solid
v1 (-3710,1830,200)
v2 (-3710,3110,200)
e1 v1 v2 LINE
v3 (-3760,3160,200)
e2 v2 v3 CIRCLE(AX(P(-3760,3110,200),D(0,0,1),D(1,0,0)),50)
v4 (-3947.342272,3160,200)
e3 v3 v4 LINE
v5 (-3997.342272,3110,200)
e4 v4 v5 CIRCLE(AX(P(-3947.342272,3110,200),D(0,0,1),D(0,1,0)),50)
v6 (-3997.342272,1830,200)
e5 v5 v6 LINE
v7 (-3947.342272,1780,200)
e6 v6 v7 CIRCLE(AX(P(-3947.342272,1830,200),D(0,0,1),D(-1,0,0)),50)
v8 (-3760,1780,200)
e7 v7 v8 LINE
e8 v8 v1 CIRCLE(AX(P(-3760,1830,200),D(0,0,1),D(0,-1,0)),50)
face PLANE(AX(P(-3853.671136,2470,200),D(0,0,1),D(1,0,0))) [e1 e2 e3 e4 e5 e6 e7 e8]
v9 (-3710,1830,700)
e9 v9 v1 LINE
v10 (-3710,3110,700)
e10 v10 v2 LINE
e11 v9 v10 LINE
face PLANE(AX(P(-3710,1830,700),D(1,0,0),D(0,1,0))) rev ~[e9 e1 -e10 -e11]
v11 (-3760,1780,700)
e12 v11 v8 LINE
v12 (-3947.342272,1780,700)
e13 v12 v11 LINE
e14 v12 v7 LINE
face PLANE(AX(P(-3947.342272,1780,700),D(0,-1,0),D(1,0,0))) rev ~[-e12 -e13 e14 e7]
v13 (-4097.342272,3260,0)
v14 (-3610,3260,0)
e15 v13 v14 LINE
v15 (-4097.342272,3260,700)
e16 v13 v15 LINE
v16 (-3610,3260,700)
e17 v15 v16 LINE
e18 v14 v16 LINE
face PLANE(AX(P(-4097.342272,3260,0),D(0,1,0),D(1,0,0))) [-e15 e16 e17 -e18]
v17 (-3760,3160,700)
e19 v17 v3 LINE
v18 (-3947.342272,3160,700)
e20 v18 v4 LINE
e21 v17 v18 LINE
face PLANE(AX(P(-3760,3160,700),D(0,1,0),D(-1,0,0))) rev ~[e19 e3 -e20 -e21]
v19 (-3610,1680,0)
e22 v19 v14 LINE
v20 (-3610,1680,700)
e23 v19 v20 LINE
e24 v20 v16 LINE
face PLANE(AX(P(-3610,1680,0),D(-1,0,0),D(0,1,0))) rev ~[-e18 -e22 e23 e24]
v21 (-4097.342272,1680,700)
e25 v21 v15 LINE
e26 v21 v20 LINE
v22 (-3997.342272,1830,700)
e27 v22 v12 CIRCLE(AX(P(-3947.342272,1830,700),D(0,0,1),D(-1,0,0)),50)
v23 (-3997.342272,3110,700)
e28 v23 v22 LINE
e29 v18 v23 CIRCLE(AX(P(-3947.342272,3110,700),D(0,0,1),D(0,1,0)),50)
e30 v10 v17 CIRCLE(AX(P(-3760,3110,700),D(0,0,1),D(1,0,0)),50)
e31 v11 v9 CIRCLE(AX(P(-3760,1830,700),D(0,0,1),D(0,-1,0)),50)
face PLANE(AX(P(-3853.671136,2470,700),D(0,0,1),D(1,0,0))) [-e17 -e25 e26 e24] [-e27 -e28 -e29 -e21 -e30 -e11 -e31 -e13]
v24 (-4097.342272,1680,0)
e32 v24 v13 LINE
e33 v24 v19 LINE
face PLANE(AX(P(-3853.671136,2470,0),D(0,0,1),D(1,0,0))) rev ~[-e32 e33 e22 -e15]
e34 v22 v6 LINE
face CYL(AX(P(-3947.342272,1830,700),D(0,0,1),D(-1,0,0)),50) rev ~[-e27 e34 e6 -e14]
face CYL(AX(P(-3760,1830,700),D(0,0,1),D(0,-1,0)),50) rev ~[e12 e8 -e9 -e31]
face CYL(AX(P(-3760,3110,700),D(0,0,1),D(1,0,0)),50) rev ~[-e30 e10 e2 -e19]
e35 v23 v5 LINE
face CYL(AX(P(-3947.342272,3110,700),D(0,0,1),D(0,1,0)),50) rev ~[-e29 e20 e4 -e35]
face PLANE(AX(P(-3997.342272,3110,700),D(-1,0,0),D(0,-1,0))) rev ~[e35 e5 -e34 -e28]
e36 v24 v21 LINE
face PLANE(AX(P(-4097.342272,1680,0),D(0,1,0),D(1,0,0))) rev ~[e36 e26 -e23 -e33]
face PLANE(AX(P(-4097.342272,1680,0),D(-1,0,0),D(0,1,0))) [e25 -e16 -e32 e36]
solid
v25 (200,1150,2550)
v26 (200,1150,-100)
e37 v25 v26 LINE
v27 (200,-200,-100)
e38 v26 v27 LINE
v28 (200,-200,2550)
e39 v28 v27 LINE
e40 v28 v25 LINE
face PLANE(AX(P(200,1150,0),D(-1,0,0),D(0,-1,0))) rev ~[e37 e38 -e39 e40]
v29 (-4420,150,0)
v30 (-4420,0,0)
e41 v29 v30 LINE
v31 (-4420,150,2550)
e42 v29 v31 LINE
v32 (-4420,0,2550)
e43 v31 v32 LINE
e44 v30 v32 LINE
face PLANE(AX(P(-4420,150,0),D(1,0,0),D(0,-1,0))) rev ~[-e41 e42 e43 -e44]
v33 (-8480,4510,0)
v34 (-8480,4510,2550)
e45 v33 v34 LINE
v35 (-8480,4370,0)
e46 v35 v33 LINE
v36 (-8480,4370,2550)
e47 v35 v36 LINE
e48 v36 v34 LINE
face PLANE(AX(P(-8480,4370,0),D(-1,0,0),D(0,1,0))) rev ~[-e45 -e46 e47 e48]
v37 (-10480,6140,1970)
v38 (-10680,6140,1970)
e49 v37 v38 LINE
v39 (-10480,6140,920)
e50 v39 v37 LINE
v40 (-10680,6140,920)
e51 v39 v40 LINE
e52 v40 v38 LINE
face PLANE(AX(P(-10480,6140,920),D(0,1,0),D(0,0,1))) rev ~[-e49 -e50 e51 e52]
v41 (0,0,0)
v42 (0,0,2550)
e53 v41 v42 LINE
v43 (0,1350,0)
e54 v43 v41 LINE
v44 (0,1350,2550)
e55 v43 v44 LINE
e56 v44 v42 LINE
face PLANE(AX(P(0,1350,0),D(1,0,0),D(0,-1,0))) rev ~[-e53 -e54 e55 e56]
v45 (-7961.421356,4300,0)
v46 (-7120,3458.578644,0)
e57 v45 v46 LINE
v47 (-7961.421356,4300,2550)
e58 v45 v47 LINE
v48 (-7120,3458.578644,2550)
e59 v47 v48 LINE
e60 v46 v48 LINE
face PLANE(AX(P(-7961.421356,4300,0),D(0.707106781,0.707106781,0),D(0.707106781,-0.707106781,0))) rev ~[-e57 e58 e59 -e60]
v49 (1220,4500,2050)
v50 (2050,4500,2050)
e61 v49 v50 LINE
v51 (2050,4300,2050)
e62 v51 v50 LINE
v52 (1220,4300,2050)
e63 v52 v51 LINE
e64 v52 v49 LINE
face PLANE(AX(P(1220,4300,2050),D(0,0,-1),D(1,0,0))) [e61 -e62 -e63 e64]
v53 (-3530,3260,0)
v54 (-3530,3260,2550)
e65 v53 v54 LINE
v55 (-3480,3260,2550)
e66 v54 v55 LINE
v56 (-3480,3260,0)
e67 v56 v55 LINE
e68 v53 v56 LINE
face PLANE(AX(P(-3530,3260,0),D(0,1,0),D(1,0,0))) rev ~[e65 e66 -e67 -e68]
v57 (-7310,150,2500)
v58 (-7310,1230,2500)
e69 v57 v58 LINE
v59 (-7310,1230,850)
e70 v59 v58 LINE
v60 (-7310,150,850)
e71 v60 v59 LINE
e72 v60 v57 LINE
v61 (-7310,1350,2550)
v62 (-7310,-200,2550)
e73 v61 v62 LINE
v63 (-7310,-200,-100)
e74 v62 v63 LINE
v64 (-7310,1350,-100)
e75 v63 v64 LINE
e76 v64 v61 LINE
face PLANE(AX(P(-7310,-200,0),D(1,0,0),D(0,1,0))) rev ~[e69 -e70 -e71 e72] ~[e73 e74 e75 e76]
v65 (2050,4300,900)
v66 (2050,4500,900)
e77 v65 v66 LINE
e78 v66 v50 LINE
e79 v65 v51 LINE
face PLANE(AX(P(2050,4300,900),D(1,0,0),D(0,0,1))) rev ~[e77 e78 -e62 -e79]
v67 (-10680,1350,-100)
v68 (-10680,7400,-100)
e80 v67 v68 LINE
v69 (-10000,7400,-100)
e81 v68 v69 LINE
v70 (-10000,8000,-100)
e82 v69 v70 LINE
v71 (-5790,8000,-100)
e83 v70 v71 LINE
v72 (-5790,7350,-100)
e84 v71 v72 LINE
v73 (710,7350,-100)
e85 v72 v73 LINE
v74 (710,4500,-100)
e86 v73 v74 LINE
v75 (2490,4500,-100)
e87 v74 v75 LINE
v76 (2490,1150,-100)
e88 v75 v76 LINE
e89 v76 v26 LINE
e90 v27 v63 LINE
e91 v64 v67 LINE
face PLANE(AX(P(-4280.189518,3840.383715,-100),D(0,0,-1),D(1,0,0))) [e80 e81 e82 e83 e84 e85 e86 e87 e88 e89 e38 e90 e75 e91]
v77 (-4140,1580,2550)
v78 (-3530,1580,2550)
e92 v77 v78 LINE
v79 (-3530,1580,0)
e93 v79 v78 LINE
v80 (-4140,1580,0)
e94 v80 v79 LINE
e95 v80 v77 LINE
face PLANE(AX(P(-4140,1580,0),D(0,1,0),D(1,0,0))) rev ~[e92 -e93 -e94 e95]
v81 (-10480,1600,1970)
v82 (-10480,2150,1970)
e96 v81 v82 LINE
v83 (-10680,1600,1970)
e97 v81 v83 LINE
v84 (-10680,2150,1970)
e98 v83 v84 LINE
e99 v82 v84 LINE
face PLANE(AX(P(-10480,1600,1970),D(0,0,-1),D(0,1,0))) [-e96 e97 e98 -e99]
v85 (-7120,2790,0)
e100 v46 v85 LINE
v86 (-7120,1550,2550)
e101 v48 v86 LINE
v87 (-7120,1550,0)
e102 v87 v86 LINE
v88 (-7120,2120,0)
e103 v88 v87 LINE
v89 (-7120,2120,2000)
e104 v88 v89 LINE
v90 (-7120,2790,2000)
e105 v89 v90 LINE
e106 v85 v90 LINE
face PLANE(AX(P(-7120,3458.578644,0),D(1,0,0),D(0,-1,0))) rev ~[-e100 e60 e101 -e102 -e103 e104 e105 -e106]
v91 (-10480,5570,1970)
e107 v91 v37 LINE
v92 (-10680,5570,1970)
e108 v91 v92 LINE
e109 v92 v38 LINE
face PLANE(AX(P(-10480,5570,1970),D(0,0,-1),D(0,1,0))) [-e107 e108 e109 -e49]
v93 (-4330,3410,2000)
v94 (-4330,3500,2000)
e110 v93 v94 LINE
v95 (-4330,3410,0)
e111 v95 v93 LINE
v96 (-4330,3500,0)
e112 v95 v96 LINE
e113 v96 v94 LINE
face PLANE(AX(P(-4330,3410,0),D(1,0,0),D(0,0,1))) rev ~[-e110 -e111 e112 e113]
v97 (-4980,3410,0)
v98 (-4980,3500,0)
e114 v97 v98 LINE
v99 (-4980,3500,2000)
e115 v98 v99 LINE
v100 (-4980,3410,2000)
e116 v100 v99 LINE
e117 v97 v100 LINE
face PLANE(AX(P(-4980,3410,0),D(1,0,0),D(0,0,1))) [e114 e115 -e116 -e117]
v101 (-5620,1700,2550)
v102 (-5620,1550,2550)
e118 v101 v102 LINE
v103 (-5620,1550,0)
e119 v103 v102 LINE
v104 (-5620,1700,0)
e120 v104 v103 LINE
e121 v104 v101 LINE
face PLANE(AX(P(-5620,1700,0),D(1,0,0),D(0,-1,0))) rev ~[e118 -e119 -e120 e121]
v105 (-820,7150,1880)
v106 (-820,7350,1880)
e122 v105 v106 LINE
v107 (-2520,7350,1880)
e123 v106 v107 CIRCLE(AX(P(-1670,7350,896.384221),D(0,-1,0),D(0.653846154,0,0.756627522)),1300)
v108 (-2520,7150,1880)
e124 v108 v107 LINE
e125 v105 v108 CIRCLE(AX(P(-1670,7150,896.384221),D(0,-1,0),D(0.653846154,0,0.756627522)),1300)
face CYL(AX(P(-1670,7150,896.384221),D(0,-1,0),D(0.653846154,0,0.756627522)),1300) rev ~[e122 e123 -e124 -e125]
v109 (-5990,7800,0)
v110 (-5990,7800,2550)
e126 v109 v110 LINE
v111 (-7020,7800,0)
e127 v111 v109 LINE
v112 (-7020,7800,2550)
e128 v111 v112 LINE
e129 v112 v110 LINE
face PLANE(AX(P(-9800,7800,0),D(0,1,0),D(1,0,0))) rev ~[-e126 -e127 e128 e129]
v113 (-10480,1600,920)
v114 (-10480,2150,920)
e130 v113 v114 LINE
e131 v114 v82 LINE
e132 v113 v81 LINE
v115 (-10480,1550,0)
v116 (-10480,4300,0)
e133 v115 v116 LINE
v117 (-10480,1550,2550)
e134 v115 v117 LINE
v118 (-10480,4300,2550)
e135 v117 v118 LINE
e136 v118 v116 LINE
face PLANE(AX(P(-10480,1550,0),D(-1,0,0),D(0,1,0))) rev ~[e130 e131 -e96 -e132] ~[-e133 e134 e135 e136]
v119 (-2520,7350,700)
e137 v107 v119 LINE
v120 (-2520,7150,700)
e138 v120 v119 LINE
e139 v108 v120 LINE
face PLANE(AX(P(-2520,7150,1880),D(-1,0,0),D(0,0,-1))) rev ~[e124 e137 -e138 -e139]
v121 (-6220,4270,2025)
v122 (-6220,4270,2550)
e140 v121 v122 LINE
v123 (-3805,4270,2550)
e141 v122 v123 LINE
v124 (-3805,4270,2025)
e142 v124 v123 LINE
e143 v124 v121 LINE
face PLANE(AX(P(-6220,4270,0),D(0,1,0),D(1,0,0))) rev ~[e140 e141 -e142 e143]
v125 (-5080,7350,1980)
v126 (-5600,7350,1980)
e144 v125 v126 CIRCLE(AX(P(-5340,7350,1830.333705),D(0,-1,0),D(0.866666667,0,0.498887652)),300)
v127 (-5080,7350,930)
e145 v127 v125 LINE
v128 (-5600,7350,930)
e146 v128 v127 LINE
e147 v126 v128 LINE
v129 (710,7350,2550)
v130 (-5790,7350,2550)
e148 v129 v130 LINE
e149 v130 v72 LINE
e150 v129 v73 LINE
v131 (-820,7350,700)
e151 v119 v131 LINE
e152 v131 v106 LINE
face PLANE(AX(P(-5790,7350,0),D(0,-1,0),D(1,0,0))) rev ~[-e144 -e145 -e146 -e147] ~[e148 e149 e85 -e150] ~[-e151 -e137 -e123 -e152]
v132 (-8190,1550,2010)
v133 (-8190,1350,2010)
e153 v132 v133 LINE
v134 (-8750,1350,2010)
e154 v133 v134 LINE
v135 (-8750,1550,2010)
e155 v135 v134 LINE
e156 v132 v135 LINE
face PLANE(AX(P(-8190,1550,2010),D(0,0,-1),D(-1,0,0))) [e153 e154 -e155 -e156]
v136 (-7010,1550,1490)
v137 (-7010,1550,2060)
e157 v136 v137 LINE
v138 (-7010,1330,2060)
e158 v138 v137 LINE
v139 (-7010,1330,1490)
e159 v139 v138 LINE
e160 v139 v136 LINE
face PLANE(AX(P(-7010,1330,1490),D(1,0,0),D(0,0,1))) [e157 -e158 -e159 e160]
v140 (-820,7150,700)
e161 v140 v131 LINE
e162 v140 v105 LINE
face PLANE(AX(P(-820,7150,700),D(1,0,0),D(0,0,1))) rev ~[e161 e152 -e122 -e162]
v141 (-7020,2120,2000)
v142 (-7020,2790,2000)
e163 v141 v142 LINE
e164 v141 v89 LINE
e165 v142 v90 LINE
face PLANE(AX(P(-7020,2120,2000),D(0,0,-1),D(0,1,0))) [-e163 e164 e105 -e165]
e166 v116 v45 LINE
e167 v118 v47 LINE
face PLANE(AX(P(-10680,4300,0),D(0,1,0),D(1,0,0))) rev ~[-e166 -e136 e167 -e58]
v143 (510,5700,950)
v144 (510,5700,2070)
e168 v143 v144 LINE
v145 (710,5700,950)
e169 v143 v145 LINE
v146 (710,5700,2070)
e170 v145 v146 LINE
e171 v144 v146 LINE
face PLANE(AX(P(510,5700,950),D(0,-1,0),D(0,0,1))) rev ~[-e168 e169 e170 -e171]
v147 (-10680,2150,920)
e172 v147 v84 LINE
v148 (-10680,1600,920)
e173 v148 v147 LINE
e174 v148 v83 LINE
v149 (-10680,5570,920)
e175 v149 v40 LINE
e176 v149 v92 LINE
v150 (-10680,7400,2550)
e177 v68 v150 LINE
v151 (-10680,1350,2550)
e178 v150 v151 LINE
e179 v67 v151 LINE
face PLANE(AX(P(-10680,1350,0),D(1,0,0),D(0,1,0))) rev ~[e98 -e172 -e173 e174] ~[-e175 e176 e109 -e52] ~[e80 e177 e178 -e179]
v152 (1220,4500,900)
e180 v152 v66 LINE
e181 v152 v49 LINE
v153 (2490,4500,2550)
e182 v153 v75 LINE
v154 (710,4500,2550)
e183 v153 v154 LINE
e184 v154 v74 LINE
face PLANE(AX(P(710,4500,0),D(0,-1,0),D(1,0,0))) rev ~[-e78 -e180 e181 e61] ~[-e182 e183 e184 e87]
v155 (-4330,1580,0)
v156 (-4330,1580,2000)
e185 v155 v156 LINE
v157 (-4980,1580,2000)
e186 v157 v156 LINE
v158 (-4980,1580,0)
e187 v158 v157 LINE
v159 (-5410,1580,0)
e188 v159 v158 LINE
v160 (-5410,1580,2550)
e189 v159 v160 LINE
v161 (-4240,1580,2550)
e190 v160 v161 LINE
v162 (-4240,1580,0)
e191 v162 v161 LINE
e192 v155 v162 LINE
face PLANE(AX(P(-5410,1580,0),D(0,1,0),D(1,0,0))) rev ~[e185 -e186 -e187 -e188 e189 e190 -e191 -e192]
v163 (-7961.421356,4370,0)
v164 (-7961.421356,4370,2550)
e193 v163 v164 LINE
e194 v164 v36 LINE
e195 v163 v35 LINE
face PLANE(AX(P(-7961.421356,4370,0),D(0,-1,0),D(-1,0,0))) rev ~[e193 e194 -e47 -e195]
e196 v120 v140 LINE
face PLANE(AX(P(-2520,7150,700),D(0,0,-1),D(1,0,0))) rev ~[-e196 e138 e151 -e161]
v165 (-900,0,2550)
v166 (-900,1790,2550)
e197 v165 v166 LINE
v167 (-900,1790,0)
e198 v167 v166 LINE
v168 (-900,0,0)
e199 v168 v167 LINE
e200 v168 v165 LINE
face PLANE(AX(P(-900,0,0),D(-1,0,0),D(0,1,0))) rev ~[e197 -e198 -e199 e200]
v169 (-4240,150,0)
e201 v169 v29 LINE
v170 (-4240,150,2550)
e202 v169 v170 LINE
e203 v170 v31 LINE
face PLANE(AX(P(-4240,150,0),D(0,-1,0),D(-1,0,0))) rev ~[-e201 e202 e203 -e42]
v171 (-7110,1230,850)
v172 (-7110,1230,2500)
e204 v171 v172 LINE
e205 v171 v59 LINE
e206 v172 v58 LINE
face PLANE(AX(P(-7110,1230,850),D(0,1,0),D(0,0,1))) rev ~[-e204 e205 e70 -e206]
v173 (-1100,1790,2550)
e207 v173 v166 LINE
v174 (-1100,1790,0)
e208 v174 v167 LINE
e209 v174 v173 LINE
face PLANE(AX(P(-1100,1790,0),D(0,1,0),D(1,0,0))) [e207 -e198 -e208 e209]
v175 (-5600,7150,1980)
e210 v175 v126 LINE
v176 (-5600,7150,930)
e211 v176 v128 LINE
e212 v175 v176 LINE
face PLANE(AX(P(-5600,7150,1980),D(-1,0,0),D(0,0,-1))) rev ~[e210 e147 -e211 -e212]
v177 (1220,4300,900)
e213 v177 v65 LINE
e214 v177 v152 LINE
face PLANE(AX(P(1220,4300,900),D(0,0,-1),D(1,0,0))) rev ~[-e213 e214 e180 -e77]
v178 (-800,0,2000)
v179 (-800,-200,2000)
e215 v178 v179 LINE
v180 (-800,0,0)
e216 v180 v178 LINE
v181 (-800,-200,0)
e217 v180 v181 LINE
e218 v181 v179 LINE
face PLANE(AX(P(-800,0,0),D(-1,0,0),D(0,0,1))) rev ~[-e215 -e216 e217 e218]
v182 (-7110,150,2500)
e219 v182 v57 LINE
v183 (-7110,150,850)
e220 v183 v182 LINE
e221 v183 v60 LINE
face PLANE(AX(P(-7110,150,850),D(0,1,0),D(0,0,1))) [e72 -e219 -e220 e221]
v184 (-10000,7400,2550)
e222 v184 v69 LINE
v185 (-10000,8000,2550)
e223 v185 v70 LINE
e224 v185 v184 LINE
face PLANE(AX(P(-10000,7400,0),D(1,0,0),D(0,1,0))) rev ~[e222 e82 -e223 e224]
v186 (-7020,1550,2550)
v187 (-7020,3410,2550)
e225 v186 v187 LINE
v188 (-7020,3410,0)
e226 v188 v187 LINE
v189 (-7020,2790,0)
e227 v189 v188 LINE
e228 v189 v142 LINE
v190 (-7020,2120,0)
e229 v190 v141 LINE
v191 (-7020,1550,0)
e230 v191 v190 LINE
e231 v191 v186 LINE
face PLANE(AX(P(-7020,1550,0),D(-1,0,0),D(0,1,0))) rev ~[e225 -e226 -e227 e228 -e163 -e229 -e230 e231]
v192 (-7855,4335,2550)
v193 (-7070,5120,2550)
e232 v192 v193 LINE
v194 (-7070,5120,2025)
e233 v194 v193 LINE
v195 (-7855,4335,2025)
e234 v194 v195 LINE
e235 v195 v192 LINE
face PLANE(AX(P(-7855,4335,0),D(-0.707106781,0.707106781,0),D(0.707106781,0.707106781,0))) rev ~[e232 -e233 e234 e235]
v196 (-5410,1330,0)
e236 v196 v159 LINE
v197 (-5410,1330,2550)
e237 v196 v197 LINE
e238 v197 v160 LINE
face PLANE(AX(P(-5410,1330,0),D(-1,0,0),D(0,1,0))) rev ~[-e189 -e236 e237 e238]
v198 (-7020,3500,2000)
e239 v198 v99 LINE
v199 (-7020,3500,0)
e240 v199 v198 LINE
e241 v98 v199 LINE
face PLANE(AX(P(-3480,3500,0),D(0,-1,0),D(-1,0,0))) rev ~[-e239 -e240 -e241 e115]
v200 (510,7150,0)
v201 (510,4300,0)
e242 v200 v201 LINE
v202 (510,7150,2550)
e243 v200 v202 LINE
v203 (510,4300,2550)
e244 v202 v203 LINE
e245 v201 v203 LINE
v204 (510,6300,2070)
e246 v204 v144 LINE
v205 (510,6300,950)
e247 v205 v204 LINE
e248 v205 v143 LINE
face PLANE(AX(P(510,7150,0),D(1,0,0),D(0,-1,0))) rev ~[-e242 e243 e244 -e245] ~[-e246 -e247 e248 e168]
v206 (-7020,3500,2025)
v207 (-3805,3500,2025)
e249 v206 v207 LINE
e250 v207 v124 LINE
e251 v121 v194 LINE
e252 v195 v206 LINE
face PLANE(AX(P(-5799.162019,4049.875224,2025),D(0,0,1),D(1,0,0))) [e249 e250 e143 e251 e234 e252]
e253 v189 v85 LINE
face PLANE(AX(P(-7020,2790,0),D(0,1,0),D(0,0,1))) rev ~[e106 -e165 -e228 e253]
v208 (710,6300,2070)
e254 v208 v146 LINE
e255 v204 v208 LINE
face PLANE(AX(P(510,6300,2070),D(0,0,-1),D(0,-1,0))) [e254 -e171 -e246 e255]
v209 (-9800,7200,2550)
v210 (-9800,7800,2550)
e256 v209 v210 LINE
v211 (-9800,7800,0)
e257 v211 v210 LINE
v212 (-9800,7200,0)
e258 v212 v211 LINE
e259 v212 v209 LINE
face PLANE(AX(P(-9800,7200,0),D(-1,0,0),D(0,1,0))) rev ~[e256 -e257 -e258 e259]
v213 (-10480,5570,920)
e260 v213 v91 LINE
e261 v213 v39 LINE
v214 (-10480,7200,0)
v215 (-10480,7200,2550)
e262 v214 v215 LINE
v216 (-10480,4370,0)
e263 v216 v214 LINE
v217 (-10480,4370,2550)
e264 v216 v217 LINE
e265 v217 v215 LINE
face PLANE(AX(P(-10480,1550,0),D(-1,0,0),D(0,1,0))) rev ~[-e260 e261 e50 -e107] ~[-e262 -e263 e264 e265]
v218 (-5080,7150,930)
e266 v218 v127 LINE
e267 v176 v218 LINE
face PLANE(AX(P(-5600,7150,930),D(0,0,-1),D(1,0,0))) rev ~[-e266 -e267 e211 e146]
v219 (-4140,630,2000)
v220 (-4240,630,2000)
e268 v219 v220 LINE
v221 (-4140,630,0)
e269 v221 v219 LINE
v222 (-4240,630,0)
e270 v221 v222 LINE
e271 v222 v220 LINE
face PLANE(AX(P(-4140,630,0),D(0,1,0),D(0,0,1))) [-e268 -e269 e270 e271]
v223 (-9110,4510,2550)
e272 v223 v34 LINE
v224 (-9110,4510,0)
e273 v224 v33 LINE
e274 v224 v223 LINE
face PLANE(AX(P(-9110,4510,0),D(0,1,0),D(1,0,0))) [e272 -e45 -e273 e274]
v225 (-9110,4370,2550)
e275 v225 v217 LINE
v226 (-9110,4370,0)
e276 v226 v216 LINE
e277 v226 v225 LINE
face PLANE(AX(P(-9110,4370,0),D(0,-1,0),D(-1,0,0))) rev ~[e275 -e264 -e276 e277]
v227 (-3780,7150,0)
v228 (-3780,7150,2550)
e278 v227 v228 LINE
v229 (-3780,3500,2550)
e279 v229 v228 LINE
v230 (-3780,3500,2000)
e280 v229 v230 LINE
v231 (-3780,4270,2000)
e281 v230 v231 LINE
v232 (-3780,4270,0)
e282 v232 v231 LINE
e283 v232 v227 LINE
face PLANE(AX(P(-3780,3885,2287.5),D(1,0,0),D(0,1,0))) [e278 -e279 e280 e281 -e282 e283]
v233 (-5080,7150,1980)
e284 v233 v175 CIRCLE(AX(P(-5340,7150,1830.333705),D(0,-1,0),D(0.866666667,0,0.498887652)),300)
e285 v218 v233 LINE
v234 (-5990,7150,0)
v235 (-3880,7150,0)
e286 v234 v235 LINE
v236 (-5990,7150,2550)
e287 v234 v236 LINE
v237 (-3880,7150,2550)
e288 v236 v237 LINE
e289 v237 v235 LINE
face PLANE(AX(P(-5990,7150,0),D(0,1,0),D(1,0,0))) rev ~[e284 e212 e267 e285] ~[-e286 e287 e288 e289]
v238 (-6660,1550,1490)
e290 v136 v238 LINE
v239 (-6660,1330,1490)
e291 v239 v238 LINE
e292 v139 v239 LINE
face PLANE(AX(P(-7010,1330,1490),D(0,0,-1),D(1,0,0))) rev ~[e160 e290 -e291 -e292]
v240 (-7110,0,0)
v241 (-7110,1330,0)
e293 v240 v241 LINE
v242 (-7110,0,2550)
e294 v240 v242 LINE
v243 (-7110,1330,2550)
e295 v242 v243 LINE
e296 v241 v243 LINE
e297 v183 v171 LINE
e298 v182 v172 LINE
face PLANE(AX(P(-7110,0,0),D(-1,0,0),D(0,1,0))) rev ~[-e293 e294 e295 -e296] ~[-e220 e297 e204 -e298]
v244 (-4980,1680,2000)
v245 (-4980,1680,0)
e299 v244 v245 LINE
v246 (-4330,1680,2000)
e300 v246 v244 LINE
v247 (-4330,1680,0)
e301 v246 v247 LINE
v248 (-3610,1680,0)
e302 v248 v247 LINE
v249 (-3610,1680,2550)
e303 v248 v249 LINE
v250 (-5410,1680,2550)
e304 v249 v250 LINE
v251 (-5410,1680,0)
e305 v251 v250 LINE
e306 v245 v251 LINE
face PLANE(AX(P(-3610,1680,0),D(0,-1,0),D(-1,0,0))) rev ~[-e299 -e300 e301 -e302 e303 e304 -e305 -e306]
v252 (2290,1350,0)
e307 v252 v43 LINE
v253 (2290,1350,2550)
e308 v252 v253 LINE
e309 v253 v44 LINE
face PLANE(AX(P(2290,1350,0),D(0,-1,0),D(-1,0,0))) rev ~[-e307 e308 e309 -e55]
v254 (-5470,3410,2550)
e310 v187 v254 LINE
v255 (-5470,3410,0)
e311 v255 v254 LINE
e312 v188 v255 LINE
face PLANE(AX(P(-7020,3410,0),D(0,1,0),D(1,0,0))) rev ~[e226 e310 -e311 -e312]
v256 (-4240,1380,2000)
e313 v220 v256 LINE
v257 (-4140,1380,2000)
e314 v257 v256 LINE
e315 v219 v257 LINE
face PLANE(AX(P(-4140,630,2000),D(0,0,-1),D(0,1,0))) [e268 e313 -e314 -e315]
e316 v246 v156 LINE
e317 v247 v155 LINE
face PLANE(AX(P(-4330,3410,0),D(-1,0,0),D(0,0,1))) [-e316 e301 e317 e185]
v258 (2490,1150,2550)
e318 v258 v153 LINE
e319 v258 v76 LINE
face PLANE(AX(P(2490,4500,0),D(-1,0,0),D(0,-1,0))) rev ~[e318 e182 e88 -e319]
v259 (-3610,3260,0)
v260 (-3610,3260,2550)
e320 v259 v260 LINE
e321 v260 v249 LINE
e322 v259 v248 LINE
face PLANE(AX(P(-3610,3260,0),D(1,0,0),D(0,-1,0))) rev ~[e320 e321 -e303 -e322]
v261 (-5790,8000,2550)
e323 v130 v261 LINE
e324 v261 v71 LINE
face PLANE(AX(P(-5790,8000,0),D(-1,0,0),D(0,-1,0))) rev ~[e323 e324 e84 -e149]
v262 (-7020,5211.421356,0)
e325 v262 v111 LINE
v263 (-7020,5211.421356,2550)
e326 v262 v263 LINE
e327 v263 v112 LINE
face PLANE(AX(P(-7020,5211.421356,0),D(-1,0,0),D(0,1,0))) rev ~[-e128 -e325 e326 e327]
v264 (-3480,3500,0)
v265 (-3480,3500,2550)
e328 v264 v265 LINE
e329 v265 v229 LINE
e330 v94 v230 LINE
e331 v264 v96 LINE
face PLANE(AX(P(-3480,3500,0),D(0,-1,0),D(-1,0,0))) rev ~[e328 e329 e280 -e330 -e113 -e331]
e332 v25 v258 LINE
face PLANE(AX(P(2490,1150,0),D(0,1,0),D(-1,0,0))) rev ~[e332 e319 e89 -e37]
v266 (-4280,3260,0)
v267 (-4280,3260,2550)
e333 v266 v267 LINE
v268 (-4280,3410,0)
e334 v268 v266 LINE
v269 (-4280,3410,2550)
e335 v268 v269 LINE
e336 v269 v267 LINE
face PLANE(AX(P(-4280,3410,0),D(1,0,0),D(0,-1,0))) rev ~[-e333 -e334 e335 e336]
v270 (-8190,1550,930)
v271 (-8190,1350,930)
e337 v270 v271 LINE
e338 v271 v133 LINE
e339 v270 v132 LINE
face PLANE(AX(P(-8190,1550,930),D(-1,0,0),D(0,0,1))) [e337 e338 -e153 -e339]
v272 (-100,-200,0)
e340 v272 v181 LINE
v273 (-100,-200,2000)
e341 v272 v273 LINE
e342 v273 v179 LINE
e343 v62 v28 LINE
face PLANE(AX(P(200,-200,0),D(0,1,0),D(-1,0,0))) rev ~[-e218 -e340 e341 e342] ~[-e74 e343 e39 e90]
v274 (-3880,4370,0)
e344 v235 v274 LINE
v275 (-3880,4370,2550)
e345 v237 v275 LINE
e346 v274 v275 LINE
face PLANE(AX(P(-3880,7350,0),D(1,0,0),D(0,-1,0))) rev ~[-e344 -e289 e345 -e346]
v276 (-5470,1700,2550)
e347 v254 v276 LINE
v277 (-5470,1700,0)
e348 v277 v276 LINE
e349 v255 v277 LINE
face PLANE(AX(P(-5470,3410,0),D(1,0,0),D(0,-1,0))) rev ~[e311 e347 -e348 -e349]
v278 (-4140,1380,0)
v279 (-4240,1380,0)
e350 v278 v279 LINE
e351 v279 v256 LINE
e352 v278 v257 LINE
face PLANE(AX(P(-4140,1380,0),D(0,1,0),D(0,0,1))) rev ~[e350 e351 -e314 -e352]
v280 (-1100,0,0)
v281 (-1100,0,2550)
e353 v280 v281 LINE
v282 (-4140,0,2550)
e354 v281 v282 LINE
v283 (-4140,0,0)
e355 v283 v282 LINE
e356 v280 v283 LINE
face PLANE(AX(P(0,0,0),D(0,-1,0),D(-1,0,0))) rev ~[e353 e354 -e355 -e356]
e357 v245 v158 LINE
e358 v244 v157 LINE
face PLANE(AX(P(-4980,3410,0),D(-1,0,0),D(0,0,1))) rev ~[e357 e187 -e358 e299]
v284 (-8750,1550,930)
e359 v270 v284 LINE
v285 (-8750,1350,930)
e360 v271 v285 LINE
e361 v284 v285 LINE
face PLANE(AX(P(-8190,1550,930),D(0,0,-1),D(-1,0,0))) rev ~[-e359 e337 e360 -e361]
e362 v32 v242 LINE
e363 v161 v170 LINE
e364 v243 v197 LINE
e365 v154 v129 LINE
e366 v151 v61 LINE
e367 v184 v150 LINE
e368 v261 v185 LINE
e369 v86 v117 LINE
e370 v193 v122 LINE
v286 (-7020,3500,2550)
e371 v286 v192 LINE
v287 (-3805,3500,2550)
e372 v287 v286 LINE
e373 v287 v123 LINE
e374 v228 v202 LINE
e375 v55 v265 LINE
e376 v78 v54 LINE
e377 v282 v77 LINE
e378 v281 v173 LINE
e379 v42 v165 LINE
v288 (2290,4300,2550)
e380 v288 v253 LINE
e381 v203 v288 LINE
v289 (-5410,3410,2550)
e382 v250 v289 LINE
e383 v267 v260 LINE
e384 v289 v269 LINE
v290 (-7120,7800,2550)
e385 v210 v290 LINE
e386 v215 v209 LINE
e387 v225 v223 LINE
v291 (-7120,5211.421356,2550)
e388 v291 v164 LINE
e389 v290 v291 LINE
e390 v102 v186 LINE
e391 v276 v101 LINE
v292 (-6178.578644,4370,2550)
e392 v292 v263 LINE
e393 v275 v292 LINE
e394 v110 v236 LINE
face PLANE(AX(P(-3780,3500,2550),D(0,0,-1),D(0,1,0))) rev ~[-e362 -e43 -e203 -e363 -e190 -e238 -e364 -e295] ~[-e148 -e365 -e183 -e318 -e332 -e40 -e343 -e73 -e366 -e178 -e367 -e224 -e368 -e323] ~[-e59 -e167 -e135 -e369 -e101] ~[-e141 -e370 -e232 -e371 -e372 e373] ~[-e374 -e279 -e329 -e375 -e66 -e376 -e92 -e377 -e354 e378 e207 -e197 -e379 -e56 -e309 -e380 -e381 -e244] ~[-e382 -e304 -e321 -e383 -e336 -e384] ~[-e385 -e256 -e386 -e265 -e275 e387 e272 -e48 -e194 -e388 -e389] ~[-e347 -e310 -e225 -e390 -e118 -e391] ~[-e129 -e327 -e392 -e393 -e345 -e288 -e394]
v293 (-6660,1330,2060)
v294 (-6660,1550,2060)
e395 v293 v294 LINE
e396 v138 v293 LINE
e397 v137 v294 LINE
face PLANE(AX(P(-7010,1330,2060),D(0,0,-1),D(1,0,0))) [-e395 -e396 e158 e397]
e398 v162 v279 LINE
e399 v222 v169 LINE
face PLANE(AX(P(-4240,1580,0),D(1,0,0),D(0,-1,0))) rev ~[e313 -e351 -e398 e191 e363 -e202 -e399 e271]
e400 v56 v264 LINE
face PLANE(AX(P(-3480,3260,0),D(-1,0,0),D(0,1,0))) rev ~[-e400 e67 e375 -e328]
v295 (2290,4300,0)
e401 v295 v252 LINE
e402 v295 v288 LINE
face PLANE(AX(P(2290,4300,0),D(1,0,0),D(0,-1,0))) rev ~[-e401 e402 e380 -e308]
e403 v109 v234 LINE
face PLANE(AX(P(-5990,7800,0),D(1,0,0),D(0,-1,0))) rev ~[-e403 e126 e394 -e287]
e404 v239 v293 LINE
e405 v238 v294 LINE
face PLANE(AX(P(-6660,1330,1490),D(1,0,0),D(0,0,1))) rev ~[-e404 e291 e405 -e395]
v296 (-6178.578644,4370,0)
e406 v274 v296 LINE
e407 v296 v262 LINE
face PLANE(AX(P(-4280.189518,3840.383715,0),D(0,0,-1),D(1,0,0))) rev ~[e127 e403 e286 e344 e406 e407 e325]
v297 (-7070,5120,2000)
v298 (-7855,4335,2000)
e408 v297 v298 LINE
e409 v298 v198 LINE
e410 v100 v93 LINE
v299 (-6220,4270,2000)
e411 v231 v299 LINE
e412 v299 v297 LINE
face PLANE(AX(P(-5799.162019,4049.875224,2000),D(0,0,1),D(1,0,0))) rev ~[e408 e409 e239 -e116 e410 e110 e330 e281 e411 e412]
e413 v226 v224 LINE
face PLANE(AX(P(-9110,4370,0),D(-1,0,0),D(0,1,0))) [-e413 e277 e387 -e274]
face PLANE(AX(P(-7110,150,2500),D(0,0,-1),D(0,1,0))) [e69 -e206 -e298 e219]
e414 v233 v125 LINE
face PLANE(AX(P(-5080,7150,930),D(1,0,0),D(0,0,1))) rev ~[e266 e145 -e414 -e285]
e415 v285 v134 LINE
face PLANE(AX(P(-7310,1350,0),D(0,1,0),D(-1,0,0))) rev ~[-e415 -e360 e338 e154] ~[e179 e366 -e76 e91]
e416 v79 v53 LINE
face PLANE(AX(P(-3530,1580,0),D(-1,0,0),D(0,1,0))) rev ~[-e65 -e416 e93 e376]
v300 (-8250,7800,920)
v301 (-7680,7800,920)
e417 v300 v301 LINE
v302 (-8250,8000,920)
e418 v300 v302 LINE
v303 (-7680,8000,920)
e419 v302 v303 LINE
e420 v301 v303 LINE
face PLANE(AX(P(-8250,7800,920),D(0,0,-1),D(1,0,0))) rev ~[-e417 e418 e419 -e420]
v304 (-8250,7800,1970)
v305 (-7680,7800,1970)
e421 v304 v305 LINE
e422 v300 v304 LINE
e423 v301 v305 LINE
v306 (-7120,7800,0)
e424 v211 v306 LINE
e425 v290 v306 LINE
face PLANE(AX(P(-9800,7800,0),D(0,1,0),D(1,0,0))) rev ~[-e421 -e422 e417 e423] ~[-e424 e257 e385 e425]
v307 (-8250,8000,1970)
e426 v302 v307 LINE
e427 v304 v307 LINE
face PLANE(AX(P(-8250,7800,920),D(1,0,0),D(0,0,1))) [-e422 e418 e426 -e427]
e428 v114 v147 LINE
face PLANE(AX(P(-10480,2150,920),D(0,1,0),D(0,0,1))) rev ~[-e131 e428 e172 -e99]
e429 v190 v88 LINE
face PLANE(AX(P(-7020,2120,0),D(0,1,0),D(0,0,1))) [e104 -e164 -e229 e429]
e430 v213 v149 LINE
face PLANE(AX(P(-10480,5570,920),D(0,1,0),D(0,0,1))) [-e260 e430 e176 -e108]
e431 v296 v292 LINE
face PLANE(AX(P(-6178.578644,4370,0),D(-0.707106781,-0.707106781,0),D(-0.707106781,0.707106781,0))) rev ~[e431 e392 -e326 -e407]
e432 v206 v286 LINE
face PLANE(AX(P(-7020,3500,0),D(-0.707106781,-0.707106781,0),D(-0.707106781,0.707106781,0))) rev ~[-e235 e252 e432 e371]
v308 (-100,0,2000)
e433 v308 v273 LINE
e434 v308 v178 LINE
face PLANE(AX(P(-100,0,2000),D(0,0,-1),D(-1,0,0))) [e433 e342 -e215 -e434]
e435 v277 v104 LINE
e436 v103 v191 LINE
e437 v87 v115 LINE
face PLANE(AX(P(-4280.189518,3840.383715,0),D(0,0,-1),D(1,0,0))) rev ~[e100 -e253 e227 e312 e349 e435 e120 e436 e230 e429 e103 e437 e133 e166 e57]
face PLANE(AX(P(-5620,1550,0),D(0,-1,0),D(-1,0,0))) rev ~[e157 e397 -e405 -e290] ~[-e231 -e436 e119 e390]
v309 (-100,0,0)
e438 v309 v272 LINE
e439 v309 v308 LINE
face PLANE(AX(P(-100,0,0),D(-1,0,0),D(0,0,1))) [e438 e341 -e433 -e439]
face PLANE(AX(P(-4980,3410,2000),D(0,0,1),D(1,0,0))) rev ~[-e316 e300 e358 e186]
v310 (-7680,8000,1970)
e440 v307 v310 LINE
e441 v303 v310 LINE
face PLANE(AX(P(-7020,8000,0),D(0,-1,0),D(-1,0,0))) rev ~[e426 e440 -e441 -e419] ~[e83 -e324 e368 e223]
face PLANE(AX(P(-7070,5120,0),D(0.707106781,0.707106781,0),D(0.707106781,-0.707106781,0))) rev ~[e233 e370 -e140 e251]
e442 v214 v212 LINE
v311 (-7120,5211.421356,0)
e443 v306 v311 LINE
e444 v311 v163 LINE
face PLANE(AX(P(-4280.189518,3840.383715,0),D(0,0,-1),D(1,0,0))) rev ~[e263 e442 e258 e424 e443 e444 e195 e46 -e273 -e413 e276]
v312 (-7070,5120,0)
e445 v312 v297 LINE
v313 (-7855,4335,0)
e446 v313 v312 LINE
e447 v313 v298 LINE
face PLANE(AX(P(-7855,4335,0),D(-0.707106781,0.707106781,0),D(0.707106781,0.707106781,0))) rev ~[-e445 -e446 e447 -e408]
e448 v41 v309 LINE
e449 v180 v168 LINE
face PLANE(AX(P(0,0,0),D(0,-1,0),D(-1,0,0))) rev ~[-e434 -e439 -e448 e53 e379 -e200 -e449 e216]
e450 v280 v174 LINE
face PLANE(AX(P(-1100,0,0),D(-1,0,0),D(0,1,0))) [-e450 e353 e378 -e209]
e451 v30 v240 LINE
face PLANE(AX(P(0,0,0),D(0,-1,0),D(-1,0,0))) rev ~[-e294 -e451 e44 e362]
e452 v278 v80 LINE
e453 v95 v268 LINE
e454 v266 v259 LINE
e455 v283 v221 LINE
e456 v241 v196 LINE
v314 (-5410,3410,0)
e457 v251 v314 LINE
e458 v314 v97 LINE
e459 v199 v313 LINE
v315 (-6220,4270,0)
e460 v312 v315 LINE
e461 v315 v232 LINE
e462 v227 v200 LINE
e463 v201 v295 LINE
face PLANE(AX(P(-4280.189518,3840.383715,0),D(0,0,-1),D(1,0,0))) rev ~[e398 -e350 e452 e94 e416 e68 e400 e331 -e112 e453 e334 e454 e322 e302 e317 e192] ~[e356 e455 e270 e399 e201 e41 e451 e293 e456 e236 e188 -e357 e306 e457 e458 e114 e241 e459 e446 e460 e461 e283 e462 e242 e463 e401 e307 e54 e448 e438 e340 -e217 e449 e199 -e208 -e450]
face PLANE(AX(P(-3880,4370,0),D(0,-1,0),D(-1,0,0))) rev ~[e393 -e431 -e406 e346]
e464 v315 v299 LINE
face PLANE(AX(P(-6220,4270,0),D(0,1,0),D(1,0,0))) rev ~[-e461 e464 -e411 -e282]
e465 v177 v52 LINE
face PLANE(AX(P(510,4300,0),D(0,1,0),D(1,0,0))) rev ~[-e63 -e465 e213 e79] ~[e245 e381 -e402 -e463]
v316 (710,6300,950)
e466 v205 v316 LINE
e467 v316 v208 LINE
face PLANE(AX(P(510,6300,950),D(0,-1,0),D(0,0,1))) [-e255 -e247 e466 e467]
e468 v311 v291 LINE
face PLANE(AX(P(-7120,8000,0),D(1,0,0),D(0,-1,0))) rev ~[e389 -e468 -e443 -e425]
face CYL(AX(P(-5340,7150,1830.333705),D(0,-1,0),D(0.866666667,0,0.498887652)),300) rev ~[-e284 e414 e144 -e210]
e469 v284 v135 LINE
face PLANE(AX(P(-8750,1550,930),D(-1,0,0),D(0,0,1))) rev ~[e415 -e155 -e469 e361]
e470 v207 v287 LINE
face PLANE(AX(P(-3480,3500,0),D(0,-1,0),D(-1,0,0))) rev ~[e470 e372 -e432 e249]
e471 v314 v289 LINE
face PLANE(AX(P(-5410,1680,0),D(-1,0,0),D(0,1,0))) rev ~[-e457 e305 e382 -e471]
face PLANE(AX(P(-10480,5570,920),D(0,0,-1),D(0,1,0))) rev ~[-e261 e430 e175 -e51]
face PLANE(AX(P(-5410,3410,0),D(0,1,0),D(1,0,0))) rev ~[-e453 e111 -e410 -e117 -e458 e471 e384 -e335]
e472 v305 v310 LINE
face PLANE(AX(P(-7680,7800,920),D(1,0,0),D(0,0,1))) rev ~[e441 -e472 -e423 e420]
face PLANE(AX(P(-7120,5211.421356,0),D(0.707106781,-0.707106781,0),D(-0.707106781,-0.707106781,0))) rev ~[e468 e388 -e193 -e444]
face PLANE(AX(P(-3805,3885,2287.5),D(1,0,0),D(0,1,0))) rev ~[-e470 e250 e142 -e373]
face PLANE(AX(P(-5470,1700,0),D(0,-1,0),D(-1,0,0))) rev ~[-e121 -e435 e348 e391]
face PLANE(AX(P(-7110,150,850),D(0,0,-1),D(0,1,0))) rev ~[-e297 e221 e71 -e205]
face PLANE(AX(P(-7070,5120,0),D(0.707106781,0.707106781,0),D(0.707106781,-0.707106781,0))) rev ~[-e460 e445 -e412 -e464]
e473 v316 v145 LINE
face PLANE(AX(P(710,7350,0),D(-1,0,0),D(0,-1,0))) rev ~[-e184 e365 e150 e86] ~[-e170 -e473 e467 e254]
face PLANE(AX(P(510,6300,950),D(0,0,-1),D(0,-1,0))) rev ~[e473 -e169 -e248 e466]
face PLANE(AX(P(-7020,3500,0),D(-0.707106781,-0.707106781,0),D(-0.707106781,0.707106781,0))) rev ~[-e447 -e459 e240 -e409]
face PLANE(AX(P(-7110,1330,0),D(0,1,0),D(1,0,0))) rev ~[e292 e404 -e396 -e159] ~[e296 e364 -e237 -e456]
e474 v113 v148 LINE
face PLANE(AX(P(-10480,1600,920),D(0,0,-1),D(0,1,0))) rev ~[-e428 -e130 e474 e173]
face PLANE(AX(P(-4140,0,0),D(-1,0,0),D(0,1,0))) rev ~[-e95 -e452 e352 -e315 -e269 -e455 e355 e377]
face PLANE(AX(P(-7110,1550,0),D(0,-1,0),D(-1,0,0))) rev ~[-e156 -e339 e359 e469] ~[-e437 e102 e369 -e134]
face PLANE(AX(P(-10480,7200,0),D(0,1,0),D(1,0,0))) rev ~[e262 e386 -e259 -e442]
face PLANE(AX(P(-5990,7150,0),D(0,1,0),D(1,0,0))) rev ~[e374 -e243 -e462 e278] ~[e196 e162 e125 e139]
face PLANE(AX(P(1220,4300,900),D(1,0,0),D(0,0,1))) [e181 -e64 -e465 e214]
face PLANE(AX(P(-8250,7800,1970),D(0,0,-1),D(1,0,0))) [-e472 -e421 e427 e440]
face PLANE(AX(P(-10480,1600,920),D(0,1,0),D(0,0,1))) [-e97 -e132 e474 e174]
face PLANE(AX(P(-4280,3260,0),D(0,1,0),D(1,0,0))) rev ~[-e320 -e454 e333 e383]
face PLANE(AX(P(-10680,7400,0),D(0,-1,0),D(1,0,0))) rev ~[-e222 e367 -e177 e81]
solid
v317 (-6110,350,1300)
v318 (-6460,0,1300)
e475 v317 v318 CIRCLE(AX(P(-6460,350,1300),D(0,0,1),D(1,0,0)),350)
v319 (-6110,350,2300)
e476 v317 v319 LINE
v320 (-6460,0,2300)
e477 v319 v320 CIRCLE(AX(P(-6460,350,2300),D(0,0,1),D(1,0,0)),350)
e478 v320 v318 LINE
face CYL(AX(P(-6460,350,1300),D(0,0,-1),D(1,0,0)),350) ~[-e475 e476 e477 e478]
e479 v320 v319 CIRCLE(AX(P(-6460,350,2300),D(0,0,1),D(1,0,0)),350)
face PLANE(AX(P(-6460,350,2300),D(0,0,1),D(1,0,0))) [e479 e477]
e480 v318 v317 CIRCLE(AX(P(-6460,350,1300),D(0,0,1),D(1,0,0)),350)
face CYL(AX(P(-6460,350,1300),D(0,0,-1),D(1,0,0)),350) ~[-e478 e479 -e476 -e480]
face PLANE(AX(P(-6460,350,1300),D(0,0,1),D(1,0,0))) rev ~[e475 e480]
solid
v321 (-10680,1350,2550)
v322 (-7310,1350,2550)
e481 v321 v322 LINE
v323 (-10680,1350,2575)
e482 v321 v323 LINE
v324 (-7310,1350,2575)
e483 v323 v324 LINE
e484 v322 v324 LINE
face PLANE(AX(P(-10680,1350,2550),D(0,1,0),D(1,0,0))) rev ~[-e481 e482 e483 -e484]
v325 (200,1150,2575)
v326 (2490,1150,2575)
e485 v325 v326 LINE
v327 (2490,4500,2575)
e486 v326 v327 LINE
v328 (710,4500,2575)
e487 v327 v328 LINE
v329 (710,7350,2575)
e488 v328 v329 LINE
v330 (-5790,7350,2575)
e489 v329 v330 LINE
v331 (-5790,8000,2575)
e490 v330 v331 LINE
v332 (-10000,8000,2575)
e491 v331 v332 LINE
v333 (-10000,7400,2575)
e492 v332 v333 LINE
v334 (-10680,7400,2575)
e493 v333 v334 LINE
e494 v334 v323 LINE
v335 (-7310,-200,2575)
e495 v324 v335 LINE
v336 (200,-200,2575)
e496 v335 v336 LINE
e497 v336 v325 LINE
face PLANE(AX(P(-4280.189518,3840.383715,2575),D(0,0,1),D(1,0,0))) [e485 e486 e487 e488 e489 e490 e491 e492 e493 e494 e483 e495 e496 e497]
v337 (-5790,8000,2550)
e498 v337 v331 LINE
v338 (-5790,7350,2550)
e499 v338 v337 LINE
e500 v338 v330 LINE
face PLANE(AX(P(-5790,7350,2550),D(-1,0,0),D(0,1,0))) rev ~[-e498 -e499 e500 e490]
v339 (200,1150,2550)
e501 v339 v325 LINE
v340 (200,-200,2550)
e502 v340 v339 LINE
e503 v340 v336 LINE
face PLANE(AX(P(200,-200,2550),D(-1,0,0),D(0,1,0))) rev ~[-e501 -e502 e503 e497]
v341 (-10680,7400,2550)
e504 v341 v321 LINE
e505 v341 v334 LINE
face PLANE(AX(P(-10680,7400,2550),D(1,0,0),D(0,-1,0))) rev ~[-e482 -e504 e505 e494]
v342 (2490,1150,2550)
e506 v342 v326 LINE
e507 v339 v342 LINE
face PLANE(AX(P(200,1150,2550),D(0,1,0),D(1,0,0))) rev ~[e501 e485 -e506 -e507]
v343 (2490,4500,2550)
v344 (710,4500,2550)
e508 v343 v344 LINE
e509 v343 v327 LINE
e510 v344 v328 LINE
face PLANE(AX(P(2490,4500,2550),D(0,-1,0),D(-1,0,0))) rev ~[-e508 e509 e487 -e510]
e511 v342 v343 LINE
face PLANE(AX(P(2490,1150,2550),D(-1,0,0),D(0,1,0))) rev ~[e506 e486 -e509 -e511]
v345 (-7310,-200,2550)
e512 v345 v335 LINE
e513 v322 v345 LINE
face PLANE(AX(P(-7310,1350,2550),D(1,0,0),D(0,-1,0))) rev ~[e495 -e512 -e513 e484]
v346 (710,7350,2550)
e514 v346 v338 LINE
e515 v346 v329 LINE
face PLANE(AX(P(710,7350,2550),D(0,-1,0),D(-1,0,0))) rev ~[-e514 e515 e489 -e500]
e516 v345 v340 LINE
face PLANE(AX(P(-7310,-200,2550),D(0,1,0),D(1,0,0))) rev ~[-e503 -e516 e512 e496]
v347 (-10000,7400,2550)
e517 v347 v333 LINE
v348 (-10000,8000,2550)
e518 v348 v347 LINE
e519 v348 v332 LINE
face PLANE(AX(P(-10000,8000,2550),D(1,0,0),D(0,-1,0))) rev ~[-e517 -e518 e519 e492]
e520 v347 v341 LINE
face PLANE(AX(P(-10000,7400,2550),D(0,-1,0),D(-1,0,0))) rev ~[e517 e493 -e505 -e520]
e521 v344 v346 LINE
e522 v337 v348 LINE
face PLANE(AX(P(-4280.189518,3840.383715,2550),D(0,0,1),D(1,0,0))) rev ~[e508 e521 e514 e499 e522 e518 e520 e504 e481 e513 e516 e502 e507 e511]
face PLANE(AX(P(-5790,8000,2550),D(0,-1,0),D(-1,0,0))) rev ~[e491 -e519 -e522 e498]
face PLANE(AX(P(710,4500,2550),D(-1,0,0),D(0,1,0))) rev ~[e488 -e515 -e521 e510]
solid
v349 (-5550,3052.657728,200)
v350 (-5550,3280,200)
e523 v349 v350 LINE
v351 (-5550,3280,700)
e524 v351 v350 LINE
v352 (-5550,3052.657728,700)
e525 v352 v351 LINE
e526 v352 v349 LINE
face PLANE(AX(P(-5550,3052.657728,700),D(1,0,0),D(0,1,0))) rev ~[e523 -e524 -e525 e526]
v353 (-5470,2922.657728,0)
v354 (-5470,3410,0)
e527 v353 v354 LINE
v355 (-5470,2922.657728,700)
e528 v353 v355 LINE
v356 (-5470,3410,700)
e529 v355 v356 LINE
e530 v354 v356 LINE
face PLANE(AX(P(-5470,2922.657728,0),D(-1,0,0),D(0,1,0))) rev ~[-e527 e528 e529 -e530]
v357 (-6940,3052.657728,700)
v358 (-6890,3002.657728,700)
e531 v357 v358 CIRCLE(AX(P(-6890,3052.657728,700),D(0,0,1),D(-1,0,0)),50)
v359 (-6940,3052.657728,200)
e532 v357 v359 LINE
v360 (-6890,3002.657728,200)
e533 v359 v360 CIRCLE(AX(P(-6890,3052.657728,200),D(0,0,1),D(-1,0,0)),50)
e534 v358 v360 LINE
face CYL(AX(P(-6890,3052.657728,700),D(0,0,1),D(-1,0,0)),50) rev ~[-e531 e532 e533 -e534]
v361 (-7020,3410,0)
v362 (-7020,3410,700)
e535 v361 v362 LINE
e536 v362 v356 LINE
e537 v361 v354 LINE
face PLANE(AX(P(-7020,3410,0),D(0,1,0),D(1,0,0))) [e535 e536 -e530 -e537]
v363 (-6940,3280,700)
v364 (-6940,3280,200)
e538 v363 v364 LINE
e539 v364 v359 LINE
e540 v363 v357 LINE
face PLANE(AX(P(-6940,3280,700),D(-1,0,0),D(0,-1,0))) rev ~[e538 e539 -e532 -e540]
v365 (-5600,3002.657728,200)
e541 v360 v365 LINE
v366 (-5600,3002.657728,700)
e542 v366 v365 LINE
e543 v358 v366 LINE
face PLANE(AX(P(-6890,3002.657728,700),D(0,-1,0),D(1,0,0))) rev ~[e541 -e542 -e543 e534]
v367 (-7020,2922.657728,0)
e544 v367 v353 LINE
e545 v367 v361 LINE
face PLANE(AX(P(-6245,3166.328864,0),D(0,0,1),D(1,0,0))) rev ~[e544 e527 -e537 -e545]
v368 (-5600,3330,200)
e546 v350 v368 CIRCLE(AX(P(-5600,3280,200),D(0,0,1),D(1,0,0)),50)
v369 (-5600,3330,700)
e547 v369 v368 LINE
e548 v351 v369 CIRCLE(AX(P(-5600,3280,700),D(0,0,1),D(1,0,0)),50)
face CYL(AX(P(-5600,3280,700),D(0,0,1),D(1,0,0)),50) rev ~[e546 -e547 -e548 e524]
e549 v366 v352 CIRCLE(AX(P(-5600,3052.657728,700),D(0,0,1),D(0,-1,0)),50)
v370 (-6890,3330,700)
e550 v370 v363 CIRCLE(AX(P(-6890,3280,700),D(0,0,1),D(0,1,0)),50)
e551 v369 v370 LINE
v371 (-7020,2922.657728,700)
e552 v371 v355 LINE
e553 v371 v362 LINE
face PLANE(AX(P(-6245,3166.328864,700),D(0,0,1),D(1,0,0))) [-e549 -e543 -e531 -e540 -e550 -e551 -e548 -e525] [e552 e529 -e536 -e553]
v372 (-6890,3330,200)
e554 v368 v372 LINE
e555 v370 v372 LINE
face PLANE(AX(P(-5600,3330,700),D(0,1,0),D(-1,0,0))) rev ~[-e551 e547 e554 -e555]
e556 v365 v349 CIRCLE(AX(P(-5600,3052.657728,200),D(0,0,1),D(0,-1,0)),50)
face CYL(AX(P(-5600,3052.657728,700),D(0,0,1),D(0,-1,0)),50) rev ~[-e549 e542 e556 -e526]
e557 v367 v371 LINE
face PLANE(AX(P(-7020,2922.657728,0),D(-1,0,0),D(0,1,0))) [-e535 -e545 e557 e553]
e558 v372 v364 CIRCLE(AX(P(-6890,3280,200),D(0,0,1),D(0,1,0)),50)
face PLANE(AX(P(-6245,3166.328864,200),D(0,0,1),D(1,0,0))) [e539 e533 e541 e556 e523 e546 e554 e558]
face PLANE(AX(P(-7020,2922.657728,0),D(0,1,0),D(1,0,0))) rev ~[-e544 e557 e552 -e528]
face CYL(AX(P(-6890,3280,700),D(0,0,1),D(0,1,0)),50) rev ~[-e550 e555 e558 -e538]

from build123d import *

# Parameters (mm, degrees)
F1_DEPTH       = 2550
F3_DEPTH       = 100
F4_W           = 630
F4_H           = 140
F4_W_2         = 200
F4_H_2         = 1790
F5_DEPTH       = 2550
F6_W           = 830
F6_H           = 1150
F7_DEPTH       = 3700.001
F8_W           = 600
F8_H           = 1120
F9_DEPTH       = 200
F11_DEPTH      = 200
F13_DEPTH      = 200
F14_W          = 570
F14_H          = 1050
F15_DEPTH      = 200
F16_W          = 570
F16_H          = 1050
F17_DEPTH      = 200
F18_W          = 550
F18_H          = 1050
F19_DEPTH      = 200
F20_W          = 560
F20_H          = 1080
F21_DEPTH      = 200
F22_W          = 1080
F22_H          = 1650
F23_DEPTH      = 200
F24_W          = 350
F24_H          = 570
F25_DEPTH      = 220
F26_W          = 670
F26_H          = 2000
F27_DEPTH      = 100
F28_W          = 650
F28_H          = 2000
F29_DEPTH      = 90
F29_DEPTH_BACK = 1830
F30_W          = 700
F30_H          = 2000
F31_DEPTH      = 200
F32_W          = 750
F32_H          = 2000
F33_DEPTH      = 100
F36_DEPTH      = 25
F37_W          = 770
F37_H          = 525
F38_DEPTH      = 25
F40_DEPTH      = 25
F42_R          = 350
F43_DEPTH      = 1000
F44_W          = 487.3422718048
F44_H          = 1580
F45_DEPTH      = 700
F44_W_2        = 1550
F44_H_2        = 487.3422718048
F47_DEPTH      = 500
F49_DEPTH      = 500


with BuildPart() as f1:
    # F0 (on Top) → F1 (new body)
    with BuildSketch(Plane.XY):
        Polygon((710, 7350), (-5790, 7350), (-5790, 8000), (-10000, 8000), (-10000, 7400), (-10680, 7400), (-10680, 1350), (-7310, 1350), (-7310, -200), (200, -200), (200, 1150), (2490, 1150), (2490, 4500), (710, 4500), align=None)
        Polygon((0, 1350), (0, 0), (-7110, 0), (-7110, 1550), (-10480, 1550), (-10480, 7200), (-9800, 7200), (-9800, 7800), (-5990, 7800), (-5990, 7150), (510, 7150), (510, 4300), (2290, 4300), (2290, 1350), align=None, mode=Mode.SUBTRACT)
    extrude(amount=F1_DEPTH)

    # F2 (on face) → F3 (join)
    with BuildSketch(Plane(origin=(0, 0, 0), x_dir=(1, 0, 0), z_dir=(0, 0, -1))):
        Polygon((-10680, -7400), (-10000, -7400), (-10000, -8000), (-5790, -8000), (-5790, -7350), (710, -7350), (710, -4500), (2490, -4500), (2490, -1150), (200, -1150), (200, 200), (-7310, 200), (-7310, -1350), (-10680, -1350), align=None)
    extrude(amount=F3_DEPTH)

    # F4 (on Top) → F5 (join)
    with BuildSketch(Plane.XY):
        Polygon((-7120, 3458.5786437627), (-7120, 1550), (-7110, 1550), (-7110, 1330), (-5410, 1330), (-5410, 1550), (-5410, 1580), (-4240, 1580), (-4140, 1580), (-3530, 1580), (-3530, 1680), (-3530, 3260), (-3480, 3260), (-3480, 3500), (-7020, 3500), (-7855, 4335), (-7070, 5120), (-6220, 4270), (-3780, 4270), (-3780, 7350), (-3880, 7350), (-3880, 4370), (-6178.5786437627, 4370), (-7020, 5211.4213562373), (-7020, 8000), (-7120, 8000), (-7120, 5211.4213562373), (-7961.4213562373, 4370), (-8480, 4370), (-9110, 4370), (-10680, 4370), (-10680, 4300), (-7961.4213562373, 4300), align=None)
        Polygon((-7020, 3410), (-5470, 3410), (-5470, 1700), (-5620, 1700), (-5620, 1550), (-7020, 1550), align=None, mode=Mode.SUBTRACT)
        Polygon((-3610, 3260), (-3610, 1680), (-5410, 1680), (-5410, 3410), (-4280, 3410), (-4280, 3260), align=None, mode=Mode.SUBTRACT)
        with Locations((-8795, 4440)):
            Rectangle(F4_W, F4_H)
        Polygon((-4140, 1580), (-4240, 1580), (-4240, 150), (-4420, 150), (-4420, 0), (-4140, 0), align=None)
        with Locations((-1000, 895)):
            Rectangle(F4_W_2, F4_H_2)
    extrude(amount=F5_DEPTH)

    # F6 (on face) → F7 (cut, through all)
    with BuildSketch(Plane.XZ.offset(-4300)):
        with Locations((1635, 1475)):
            Rectangle(F6_W, F6_H)
    extrude(amount=-F7_DEPTH, mode=Mode.SUBTRACT)

    # F8 (on face) → F9 (cut, through all)
    with BuildSketch(Plane(origin=(510, 0, 0), x_dir=(0, -1, 0), z_dir=(-1, 0, 0))):
        with Locations((-6000, 1510)):
            Rectangle(F8_W, F8_H)
    extrude(amount=-F9_DEPTH, mode=Mode.SUBTRACT)

    # F10 (on face) → F11 (cut, through all)
    with BuildSketch(Plane.XZ.offset(-7150)):
        with BuildLine():
            Line((-2520, 1880), (-2520, 700))
            Line((-2520, 700), (-820, 700))
            Line((-820, 700), (-820, 1880))
            ThreePointArc((-820, 1880), (-1670, 2196.3842213547), (-2520, 1880))
        make_face()
    extrude(amount=-F11_DEPTH, mode=Mode.SUBTRACT)

    # F12 (on face) → F13 (cut, through all)
    with BuildSketch(Plane.XZ.offset(-7150)):
        with BuildLine():
            Line((-5600, 1980), (-5600, 930))
            Line((-5600, 930), (-5080, 930))
            Line((-5080, 930), (-5080, 1980))
            ThreePointArc((-5080, 1980), (-5340, 2130.333704529), (-5600, 1980))
        make_face()
    extrude(amount=-F13_DEPTH, mode=Mode.SUBTRACT)

    # F14 (on face) → F15 (cut, through all)
    with BuildSketch(Plane.XZ.offset(-7800)):
        with Locations((-7965, 1445)):
            Rectangle(F14_W, F14_H)
    extrude(amount=-F15_DEPTH, mode=Mode.SUBTRACT)

    # F16 (on face) → F17 (cut, through all)
    with BuildSketch(Plane.YZ.offset(-10480)):
        with Locations((5855, 1445)):
            Rectangle(F16_W, F16_H)
    extrude(amount=-F17_DEPTH, mode=Mode.SUBTRACT)

    # F18 (on face) → F19 (cut, through all)
    with BuildSketch(Plane.YZ.offset(-10480)):
        with Locations((1875, 1445)):
            Rectangle(F18_W, F18_H)
    extrude(amount=-F19_DEPTH, mode=Mode.SUBTRACT)

    # F20 (on face) → F21 (cut, through all)
    with BuildSketch(Plane(origin=(0, 1550, 0), x_dir=(-1, 0, 0), z_dir=(0, 1, 0))):
        with Locations((8470, 1470)):
            Rectangle(F20_W, F20_H)
    extrude(amount=-F21_DEPTH, mode=Mode.SUBTRACT)

    # F22 (on face) → F23 (cut, through all)
    with BuildSketch(Plane.YZ.offset(-7110)):
        with Locations((690, 1675)):
            Rectangle(F22_W, F22_H)
    extrude(amount=-F23_DEPTH, mode=Mode.SUBTRACT)

    # F24 (on face) → F25 (cut, through all)
    with BuildSketch(Plane.XZ.offset(-1330)):
        with Locations((-6835, 1775)):
            Rectangle(F24_W, F24_H)
    extrude(amount=-F25_DEPTH, mode=Mode.SUBTRACT)

    # F26 (on face) → F27 (cut, through all)
    with BuildSketch(Plane.YZ.offset(-7020)):
        with Locations((2455, 1000)):
            Rectangle(F26_W, F26_H)
    extrude(amount=-F27_DEPTH, mode=Mode.SUBTRACT)

    # F28 (on face) → F29 (cut, two sides)
    with BuildSketch(Plane.XZ.offset(-3410)) as f29_sk:
        with Locations((-4655, 1000)):
            Rectangle(F28_W, F28_H)
    extrude(amount=-F29_DEPTH, mode=Mode.SUBTRACT)
    extrude(f29_sk.sketch, amount=F29_DEPTH_BACK, mode=Mode.SUBTRACT)

    # F30 (on face) → F31 (cut, through all)
    with BuildSketch(Plane(origin=(0, 0, 0), x_dir=(-1, 0, 0), z_dir=(0, 1, 0))):
        with Locations((450, 1000)):
            Rectangle(F30_W, F30_H)
    extrude(amount=-F31_DEPTH, mode=Mode.SUBTRACT)

    # F32 (on face) → F33 (cut, through all)
    with BuildSketch(Plane.YZ.offset(-4140)):
        with Locations((1005, 1000)):
            Rectangle(F32_W, F32_H)
    extrude(amount=-F33_DEPTH, mode=Mode.SUBTRACT)

    # F35 (on offset) → F36 (join)
    with BuildSketch(Plane.XY.offset(2000)):
        Polygon((-3780, 4270), (-6220, 4270), (-7070, 5120), (-7855, 4335), (-7020, 3500), (-3780, 3500), align=None)
    extrude(amount=F36_DEPTH)

    # F37 (on face) → F38 (join)
    with BuildSketch(Plane.YZ.offset(-3780)):
        with Locations((3885, 2287.5)):
            Rectangle(F37_W, F37_H)
    extrude(amount=-F38_DEPTH)

    # F42 (on offset) → F43 (join)
    with BuildSketch(Plane.XY.offset(1300)):
        with Locations((-6460, 350)):
            Circle(F42_R)
    extrude(amount=F43_DEPTH)


with BuildPart() as f40:
    # F39 (on face) → F40 (new body)
    with BuildSketch(Plane.XY.offset(2550)):
        Polygon((-7310, 1350), (-7310, -200), (200, -200), (200, 1150), (2490, 1150), (2490, 4500), (710, 4500), (710, 7350), (-5790, 7350), (-5790, 8000), (-10000, 8000), (-10000, 7400), (-10680, 7400), (-10680, 1350), align=None)
    extrude(amount=F40_DEPTH)


with BuildPart() as f45:
    # F44 (on face) → F45 (new body)
    with BuildSketch(Plane.XY):
        with Locations((-3853.6711359024, 2470)):
            Rectangle(F44_W, F44_H)
    extrude(amount=F45_DEPTH)

    # F46 (on face) → F47 (cut)
    with BuildSketch(Plane.XY.offset(700)):
        with BuildLine():
            ThreePointArc((-3760, 1780), (-3724.6446609407, 1794.6446609407), (-3710, 1830))
            Line((-3710, 1830), (-3710, 3110))
            ThreePointArc((-3710, 3110), (-3724.6446609407, 3145.3553390593), (-3760, 3160))
            Line((-3760, 3160), (-3947.3422718048, 3160))
            ThreePointArc((-3947.3422718048, 3160), (-3982.6976108641, 3145.3553390593), (-3997.3422718048, 3110))
            Line((-3997.3422718048, 3110), (-3997.3422718048, 1830))
            ThreePointArc((-3997.3422718048, 1830), (-3982.6976108641, 1794.6446609407), (-3947.3422718048, 1780))
            Line((-3947.3422718048, 1780), (-3760, 1780))
        make_face()
    extrude(amount=-F47_DEPTH, mode=Mode.SUBTRACT)


with BuildPart() as f45b:
    # F44 (on face) → F45, piece 2 (new body)
    with BuildSketch(Plane.XY):
        with Locations((-6245, 3166.3288640976)):
            Rectangle(F44_W_2, F44_H_2)
    extrude(amount=F45_DEPTH)

    # F48 (on face) → F49 (cut)
    with BuildSketch(Plane.XY.offset(700)):
        with BuildLine():
            ThreePointArc((-5550, 3280), (-5564.6446609407, 3315.3553390593), (-5600, 3330))
            Line((-5600, 3330), (-6890, 3330))
            ThreePointArc((-6890, 3330), (-6925.3553390593, 3315.3553390593), (-6940, 3280))
            Line((-6940, 3280), (-6940, 3052.6577281952))
            ThreePointArc((-6940, 3052.6577281952), (-6925.3553390593, 3017.3023891359), (-6890, 3002.6577281952))
            Line((-6890, 3002.6577281952), (-5600, 3002.6577281952))
            ThreePointArc((-5600, 3002.6577281952), (-5564.6446609407, 3017.3023891359), (-5550, 3052.6577281952))
            Line((-5550, 3052.6577281952), (-5550, 3280))
        make_face()
    extrude(amount=-F49_DEPTH, mode=Mode.SUBTRACT)


solid = Compound([f1.part, f40.part, f45.part, f45b.part])
